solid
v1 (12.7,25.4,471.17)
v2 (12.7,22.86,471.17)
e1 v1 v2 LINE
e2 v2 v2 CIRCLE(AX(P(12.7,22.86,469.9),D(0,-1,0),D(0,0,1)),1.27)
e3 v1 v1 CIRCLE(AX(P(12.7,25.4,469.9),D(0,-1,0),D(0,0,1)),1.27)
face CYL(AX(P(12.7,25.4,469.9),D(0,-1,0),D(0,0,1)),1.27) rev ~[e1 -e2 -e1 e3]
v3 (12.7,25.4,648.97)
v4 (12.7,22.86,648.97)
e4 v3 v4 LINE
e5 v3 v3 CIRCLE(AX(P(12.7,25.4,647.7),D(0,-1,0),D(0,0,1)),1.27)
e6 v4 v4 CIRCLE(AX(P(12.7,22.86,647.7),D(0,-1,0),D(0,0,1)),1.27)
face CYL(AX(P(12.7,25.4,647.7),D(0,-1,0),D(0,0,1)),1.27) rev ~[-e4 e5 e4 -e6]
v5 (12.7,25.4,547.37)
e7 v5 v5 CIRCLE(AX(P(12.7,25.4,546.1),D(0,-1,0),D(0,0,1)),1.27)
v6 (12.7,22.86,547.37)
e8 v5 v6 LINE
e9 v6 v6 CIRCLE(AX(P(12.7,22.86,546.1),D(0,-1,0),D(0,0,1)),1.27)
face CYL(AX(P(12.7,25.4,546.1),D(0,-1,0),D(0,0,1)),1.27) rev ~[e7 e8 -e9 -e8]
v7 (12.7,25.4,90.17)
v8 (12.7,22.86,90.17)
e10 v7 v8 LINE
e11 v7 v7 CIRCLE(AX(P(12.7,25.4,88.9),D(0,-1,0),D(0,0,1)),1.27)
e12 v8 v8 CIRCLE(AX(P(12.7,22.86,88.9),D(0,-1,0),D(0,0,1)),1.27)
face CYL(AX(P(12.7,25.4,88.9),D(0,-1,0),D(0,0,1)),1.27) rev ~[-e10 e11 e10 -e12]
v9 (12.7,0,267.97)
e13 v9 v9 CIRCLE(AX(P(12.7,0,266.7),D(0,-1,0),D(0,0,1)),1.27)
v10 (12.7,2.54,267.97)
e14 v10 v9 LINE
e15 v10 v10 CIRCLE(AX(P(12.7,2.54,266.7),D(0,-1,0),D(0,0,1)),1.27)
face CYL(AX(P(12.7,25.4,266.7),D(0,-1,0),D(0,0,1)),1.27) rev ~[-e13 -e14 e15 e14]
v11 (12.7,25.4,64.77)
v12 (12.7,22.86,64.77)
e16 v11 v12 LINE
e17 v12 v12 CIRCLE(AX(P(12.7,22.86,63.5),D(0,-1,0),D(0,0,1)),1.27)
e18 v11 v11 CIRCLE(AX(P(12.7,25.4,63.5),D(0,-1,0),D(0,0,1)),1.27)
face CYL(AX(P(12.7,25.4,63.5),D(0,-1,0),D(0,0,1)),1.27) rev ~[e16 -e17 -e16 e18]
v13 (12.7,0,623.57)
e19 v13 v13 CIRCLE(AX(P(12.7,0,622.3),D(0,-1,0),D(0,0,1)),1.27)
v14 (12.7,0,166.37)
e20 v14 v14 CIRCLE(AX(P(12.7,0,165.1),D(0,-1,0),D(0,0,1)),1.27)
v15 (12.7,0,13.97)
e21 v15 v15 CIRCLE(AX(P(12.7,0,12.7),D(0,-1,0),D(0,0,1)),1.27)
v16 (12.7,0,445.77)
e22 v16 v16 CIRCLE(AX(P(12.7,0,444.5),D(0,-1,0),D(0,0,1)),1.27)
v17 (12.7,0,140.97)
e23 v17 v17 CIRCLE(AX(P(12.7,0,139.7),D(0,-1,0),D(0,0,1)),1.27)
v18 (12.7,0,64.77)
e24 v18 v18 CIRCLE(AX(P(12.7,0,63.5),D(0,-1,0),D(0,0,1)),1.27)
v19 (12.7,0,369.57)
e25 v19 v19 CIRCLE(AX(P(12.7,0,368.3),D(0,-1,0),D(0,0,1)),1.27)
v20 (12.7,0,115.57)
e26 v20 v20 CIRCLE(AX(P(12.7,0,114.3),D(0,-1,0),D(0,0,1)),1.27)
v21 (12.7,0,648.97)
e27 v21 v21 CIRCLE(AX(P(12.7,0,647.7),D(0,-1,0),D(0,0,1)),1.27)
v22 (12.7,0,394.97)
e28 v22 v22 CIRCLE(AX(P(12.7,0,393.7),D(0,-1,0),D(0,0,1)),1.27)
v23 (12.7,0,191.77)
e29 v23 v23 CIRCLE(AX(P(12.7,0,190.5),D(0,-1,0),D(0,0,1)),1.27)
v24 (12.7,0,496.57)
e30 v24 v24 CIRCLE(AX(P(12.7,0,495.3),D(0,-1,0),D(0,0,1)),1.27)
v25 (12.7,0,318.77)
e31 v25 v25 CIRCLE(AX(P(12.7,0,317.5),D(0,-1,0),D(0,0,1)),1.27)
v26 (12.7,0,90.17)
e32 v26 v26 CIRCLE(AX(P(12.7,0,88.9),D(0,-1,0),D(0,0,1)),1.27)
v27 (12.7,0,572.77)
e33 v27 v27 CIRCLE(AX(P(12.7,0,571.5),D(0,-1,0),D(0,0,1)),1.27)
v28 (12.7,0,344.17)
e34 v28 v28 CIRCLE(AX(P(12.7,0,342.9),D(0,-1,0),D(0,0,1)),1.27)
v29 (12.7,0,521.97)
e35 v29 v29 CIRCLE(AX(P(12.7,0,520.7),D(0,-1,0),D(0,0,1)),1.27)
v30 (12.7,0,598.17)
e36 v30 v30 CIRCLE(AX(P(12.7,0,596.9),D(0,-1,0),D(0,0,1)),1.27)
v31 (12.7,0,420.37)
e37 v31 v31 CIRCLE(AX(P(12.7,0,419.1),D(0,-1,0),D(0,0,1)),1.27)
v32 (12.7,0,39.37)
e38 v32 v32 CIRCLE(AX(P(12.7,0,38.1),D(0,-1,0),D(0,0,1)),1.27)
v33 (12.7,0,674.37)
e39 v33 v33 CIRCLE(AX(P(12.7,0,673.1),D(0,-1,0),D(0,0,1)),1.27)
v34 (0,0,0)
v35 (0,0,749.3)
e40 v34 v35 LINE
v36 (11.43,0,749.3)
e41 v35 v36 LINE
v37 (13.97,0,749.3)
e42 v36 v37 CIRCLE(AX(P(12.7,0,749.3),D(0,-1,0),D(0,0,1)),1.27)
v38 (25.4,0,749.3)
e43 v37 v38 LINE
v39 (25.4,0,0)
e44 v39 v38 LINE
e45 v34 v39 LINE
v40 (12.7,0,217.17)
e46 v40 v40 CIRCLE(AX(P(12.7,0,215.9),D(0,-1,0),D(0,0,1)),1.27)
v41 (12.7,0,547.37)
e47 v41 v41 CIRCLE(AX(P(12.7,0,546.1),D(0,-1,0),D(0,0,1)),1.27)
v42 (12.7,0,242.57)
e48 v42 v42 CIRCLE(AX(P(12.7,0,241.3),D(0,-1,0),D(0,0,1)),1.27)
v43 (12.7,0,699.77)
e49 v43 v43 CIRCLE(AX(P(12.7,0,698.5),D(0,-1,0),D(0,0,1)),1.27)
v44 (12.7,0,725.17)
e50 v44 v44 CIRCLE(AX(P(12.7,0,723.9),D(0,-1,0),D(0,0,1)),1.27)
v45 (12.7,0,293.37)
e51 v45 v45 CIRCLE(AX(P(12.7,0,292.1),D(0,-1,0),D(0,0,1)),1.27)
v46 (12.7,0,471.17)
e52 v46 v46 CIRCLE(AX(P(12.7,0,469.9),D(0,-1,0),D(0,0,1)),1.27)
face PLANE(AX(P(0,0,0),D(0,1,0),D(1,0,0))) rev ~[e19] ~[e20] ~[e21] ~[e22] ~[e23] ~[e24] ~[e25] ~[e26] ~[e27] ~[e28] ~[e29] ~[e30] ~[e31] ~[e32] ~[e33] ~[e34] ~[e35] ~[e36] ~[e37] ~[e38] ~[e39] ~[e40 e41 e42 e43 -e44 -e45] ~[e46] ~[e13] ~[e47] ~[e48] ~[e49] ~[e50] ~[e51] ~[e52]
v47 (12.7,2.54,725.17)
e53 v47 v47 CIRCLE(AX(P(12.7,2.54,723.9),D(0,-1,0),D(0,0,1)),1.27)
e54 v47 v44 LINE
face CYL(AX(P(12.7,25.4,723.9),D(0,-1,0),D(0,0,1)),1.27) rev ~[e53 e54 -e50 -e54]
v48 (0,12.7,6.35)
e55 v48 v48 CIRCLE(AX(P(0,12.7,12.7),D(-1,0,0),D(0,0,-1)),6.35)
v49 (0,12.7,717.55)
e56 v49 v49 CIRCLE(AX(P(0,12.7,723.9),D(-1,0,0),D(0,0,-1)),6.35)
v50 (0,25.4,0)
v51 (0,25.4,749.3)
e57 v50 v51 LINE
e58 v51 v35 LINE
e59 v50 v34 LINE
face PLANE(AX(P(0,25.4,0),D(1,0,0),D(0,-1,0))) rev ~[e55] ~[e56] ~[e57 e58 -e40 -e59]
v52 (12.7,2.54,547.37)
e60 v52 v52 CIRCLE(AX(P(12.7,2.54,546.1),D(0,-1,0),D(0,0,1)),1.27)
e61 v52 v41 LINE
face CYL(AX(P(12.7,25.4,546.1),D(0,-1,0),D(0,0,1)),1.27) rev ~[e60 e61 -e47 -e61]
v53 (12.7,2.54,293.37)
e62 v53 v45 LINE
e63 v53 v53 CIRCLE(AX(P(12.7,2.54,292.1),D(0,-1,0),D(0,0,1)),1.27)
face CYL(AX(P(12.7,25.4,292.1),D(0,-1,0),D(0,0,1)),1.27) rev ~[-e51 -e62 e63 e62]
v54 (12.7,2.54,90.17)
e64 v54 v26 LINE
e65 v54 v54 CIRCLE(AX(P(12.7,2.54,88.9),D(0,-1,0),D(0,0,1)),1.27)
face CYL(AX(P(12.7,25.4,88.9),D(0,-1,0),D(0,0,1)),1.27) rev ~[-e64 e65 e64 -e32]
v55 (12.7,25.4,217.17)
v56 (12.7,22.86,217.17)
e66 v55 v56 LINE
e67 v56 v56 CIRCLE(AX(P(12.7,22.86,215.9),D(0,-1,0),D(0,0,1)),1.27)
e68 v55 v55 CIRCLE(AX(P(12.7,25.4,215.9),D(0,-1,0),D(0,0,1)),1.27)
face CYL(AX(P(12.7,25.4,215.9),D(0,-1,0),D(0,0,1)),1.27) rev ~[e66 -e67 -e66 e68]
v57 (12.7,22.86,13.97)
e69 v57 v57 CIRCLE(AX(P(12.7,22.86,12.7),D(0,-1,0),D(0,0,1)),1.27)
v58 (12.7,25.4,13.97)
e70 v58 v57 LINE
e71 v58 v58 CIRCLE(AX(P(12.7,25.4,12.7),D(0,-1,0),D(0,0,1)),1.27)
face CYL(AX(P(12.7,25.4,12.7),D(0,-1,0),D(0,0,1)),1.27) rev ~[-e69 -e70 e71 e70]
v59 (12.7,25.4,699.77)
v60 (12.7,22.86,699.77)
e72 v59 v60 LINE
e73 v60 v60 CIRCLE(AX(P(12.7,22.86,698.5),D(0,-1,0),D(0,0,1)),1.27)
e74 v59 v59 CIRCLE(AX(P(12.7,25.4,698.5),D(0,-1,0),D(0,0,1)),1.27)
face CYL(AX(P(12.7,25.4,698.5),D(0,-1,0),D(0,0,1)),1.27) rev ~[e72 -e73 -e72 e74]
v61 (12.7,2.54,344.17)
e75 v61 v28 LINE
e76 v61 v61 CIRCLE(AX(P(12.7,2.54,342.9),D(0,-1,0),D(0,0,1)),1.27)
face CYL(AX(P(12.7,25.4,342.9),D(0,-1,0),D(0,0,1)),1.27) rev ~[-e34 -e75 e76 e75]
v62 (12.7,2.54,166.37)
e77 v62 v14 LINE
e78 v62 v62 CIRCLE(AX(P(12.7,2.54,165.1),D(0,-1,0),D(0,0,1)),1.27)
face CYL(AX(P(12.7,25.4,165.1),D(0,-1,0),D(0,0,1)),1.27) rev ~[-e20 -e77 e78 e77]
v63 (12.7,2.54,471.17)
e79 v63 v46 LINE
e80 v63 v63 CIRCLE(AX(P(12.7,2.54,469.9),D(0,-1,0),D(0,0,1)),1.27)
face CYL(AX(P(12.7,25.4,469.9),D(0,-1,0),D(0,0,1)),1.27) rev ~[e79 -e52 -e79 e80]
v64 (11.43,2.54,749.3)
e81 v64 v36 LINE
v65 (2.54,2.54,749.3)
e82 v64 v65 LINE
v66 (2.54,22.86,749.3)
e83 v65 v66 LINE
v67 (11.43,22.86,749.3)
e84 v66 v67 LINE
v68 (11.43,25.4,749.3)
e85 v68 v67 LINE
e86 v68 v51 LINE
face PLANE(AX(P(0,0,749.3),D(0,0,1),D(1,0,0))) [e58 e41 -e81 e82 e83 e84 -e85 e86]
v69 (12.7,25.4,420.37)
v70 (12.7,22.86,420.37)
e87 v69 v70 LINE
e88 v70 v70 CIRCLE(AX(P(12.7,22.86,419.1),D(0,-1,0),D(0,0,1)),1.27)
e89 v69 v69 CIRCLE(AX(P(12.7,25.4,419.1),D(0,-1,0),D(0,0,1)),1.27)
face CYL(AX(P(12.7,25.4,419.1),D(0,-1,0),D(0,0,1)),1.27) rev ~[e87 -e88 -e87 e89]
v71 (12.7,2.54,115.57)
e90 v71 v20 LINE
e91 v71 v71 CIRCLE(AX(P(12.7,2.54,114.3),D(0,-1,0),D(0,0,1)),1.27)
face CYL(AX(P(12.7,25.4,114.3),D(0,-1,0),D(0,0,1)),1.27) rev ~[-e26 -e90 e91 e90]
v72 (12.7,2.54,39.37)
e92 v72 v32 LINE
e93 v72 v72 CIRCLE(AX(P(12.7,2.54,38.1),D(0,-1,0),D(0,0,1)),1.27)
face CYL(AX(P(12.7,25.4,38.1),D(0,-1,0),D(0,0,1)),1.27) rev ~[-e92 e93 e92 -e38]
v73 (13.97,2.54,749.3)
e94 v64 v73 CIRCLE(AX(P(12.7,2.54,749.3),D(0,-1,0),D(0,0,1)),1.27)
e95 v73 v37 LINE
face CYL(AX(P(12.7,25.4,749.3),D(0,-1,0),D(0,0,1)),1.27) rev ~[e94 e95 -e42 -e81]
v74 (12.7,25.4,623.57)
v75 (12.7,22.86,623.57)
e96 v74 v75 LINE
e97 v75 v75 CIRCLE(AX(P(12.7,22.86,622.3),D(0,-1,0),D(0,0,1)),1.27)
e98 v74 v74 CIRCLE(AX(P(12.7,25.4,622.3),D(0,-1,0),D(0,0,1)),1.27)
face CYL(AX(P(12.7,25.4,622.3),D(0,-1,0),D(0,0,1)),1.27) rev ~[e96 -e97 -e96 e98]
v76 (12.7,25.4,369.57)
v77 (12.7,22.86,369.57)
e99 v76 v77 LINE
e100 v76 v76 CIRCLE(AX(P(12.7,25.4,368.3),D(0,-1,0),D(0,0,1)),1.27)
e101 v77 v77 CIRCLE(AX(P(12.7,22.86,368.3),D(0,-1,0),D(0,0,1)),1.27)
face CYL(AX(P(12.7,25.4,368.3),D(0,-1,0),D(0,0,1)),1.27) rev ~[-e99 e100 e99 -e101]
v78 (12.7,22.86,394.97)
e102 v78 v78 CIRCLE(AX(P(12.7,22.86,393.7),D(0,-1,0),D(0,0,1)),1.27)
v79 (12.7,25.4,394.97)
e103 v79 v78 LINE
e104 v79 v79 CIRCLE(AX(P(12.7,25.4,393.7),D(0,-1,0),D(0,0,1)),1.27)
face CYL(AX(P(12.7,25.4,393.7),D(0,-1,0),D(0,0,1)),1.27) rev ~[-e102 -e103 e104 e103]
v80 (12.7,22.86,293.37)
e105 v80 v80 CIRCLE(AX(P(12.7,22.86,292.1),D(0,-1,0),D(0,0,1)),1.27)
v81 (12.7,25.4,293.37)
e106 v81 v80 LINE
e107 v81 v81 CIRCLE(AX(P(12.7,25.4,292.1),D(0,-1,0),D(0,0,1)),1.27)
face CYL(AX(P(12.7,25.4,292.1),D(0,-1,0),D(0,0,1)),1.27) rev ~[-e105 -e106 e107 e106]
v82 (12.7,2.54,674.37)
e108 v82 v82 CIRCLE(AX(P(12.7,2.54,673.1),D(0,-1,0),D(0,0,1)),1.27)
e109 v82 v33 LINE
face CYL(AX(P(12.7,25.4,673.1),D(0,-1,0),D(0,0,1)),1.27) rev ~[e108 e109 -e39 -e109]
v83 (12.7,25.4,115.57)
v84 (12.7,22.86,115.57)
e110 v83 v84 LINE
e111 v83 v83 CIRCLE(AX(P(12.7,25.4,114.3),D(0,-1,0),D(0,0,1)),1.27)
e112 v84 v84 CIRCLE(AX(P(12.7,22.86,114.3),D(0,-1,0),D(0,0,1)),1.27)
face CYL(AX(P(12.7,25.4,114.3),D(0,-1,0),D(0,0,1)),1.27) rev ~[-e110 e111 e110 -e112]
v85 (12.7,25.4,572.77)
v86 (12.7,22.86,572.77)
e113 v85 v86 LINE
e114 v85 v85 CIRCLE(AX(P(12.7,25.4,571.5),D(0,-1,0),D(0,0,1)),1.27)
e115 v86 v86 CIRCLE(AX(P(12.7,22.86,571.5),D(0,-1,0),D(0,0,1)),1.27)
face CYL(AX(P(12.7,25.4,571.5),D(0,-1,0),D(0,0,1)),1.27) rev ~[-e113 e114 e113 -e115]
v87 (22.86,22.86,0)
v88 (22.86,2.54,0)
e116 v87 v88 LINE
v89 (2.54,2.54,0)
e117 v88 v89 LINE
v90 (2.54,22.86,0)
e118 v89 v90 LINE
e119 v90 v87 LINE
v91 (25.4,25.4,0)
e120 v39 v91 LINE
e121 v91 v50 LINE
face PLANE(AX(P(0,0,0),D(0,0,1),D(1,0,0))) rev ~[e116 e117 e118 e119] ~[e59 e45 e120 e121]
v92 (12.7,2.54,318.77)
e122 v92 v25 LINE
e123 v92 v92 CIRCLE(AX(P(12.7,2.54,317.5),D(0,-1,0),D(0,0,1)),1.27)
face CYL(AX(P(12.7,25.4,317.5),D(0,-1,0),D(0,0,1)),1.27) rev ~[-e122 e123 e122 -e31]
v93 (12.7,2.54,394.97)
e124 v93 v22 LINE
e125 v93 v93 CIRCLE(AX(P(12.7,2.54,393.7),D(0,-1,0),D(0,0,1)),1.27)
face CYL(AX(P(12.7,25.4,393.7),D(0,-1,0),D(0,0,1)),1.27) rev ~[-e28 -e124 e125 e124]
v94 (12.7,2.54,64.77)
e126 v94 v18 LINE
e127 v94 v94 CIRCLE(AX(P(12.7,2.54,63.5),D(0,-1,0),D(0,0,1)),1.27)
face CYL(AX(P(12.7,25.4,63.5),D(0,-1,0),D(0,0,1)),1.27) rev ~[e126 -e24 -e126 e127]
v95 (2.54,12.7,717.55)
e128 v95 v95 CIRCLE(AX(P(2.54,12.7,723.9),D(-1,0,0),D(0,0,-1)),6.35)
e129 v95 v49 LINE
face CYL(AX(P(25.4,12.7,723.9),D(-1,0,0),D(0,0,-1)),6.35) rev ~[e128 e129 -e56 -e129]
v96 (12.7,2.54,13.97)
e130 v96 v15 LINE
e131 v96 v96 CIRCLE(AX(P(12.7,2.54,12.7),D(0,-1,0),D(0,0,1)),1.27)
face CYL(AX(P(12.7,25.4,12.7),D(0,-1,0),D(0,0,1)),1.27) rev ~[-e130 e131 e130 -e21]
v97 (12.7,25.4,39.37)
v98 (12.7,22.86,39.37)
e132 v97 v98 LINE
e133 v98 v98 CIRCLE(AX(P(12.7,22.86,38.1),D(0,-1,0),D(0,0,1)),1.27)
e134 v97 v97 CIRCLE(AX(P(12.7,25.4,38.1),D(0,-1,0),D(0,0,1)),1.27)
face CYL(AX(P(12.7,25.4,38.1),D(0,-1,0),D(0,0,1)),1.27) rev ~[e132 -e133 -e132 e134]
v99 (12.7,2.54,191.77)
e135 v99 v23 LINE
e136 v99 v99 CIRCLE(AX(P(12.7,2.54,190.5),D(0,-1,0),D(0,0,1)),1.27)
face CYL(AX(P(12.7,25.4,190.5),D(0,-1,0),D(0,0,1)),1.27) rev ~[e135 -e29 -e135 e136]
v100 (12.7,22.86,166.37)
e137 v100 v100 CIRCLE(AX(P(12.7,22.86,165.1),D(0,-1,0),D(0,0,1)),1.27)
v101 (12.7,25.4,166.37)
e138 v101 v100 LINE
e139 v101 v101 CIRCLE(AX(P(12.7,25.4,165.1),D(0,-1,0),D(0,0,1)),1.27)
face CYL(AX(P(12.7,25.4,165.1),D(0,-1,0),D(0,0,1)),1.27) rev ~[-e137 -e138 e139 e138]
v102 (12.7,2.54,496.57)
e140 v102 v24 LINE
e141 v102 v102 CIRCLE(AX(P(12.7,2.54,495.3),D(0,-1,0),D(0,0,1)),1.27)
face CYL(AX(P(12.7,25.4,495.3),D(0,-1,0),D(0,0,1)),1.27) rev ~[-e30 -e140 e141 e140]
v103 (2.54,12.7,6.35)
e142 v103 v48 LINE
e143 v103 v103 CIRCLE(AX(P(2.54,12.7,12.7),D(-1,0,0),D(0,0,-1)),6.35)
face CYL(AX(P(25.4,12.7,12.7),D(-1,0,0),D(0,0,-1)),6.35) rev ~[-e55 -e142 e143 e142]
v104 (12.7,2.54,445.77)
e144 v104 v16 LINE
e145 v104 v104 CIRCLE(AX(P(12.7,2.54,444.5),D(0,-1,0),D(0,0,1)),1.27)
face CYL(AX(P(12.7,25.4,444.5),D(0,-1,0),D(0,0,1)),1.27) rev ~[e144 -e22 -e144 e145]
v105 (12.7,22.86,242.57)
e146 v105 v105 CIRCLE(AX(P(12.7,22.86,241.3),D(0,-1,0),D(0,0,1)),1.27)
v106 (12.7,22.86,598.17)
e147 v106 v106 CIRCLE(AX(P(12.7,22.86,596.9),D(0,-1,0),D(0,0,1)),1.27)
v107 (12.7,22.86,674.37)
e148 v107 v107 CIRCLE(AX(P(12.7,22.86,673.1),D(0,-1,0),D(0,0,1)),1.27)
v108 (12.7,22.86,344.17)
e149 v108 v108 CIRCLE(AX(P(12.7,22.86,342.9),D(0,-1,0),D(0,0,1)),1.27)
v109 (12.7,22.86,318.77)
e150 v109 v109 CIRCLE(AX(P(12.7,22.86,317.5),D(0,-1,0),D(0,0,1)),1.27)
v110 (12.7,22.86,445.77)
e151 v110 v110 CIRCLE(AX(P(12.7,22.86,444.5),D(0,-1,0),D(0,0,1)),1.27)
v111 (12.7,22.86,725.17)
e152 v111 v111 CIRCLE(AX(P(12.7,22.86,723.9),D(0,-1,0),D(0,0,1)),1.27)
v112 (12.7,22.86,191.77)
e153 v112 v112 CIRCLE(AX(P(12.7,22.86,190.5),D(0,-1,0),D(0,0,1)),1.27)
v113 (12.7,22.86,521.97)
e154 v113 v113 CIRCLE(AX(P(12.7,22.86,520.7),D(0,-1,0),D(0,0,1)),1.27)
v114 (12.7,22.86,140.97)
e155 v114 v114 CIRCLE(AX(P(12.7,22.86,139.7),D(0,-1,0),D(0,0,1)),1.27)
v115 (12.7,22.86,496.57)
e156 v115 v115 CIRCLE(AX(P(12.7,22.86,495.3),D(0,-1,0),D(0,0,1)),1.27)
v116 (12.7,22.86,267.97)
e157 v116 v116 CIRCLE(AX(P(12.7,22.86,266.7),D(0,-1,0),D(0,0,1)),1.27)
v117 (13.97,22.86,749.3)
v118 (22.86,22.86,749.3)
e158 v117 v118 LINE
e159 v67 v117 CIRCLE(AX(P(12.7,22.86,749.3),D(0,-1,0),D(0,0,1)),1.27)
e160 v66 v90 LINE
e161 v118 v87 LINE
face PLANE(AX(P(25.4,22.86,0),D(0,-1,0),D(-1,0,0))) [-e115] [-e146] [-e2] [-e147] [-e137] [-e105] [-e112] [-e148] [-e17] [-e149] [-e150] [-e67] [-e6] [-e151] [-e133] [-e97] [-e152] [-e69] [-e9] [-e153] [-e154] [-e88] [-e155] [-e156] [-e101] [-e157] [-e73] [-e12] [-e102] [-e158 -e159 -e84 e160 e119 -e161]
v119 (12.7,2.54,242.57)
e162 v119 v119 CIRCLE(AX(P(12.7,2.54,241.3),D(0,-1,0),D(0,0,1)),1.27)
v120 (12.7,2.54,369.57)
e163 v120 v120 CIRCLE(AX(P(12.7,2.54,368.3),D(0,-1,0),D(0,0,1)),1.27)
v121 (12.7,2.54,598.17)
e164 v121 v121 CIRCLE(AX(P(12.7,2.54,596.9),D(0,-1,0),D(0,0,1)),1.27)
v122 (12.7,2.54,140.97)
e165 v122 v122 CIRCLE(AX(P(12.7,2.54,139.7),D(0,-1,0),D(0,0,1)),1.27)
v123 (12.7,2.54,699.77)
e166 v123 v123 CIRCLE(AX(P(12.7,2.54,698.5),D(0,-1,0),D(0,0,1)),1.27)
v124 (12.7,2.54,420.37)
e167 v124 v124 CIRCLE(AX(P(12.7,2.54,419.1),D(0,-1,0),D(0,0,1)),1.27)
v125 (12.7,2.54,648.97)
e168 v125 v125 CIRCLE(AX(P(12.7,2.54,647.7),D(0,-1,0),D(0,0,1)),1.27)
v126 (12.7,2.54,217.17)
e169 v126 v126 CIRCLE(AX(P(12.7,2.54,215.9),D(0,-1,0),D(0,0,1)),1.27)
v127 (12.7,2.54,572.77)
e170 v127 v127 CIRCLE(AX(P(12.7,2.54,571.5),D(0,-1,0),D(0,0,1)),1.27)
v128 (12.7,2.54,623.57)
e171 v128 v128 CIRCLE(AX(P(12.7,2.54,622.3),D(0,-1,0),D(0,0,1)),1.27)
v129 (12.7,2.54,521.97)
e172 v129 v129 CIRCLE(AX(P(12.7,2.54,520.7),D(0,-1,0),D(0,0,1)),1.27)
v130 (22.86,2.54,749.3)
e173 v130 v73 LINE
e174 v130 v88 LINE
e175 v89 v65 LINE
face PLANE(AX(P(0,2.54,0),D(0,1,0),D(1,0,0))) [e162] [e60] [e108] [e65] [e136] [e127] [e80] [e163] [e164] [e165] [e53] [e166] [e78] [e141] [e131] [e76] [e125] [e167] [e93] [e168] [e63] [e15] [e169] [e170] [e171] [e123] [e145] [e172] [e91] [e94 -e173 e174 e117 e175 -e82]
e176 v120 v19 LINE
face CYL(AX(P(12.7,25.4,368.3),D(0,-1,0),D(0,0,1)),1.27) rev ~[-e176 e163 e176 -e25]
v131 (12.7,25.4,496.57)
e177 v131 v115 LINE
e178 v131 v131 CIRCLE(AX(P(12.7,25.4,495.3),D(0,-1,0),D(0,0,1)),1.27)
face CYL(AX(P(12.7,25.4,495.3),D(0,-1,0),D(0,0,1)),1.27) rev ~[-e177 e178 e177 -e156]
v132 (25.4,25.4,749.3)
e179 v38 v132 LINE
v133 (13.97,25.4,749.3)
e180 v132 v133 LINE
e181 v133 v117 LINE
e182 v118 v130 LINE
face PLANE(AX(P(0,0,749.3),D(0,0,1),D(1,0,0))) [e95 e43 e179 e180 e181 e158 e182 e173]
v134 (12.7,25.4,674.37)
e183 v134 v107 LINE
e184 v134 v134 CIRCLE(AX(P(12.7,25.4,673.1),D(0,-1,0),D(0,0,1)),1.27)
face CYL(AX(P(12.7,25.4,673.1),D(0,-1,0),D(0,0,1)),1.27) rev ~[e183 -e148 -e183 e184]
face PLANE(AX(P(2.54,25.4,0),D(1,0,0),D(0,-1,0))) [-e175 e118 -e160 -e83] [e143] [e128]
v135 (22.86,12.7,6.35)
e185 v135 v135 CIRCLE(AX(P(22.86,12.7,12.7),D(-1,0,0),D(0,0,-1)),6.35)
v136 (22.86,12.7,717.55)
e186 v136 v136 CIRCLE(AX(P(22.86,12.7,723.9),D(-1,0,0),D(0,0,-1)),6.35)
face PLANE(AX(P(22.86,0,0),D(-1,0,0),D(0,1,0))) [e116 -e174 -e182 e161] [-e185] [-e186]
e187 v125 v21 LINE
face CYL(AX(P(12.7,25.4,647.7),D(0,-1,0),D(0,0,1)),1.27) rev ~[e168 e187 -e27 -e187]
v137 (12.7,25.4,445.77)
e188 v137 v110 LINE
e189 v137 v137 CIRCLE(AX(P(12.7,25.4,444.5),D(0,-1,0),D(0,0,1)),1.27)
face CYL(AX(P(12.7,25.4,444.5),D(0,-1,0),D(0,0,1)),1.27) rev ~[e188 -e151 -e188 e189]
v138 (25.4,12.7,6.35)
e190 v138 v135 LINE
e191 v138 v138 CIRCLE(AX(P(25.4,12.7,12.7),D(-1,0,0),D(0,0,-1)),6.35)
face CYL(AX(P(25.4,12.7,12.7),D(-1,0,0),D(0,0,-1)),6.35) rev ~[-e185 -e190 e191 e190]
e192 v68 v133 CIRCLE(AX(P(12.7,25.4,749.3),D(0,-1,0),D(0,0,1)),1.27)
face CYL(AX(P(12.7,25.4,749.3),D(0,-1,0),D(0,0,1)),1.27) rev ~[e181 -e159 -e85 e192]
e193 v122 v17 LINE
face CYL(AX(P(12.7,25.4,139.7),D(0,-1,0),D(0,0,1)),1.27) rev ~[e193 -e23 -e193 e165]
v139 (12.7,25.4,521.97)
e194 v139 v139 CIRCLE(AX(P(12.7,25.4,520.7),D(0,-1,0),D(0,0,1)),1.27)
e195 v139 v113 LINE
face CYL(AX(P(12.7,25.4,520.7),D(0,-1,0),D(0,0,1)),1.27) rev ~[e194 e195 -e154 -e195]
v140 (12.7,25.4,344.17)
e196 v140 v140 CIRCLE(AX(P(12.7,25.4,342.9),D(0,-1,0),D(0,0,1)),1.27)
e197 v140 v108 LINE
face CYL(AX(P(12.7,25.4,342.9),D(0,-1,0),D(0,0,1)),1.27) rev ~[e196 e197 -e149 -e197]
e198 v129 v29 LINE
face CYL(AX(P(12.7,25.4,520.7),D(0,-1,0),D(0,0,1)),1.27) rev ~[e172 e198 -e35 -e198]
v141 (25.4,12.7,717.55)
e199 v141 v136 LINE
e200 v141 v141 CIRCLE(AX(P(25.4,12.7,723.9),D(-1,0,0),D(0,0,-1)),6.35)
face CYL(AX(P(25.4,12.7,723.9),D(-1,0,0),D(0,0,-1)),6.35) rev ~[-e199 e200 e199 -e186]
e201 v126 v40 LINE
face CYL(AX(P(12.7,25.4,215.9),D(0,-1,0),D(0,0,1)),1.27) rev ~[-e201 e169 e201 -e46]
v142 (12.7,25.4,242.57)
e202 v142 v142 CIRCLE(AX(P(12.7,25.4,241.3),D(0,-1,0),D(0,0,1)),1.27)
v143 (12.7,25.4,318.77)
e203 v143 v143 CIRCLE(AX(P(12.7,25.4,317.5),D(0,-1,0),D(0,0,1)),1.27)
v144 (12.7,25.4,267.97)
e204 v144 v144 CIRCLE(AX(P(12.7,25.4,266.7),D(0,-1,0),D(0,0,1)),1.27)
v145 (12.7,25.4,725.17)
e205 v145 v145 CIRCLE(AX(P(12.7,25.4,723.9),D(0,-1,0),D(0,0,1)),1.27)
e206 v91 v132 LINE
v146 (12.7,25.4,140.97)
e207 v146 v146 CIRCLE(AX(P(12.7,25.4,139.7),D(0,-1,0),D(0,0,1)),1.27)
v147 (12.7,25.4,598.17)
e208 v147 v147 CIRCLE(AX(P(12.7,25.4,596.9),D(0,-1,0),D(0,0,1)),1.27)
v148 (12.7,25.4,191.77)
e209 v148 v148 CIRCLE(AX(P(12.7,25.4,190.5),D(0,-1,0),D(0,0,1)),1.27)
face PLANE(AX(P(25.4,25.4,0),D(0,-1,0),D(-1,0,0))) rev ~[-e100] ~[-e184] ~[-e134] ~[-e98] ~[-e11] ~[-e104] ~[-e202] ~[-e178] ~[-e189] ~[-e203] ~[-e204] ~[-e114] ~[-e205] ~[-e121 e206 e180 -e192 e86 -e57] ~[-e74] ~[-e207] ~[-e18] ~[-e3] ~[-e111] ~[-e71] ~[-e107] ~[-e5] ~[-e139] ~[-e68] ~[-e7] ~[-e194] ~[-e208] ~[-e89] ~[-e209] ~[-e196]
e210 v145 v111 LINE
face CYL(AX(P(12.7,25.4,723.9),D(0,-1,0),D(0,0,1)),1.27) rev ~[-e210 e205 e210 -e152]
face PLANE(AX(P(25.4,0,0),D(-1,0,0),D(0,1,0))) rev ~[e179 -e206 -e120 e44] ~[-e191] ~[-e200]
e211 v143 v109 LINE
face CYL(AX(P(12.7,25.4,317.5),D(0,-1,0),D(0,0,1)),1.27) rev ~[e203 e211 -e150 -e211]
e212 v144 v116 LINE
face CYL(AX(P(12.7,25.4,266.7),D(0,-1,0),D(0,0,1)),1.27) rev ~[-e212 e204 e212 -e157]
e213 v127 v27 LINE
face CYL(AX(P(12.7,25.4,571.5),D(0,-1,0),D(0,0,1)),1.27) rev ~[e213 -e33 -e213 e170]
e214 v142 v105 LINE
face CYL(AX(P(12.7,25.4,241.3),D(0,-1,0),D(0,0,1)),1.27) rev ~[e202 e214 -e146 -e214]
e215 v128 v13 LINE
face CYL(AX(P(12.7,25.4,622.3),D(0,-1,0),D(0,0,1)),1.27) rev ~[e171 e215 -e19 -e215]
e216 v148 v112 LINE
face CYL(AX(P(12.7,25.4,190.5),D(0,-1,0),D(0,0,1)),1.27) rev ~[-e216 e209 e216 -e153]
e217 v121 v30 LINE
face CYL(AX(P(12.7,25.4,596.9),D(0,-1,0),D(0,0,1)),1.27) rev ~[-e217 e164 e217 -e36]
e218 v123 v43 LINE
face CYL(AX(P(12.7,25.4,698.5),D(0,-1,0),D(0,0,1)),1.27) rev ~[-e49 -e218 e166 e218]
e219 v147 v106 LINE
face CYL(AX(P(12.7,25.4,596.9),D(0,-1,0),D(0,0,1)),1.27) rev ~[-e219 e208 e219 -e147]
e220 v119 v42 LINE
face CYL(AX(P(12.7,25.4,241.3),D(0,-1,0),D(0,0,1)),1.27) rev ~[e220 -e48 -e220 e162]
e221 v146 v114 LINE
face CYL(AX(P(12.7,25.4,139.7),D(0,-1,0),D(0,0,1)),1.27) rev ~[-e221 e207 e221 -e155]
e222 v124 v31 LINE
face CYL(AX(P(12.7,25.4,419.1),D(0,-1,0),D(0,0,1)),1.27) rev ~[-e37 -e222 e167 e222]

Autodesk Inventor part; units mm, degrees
ref_plane "YZ Plane" through (0, 0, 0) normal (1, 0, 0) x (0, 1, 0)
ref_plane "XZ Plane" through (0, 0, 0) normal (0, 1, 0) x (-1, 0, 0)
ref_plane "XY Plane" through (0, 0, 0) normal (0, 0, 1) x (1, 0, 0)
sketch "Sketch1" plane through (0, 0, 0) normal (0, 0, 1) x (1, 0, 0)
  line L0 (0, 0) -> (25.4, 0)
  line L1 (25.4, 0) -> (25.4, 25.4)
  line L2 (25.4, 25.4) -> (0, 25.4)
  line L3 (0, 25.4) -> (0, 0)
  dimension "d0" = 25.4
  dimension "d1" = 25.4
extrude "Extrusion1" add sketch "Sketch1" along normal blind 749.3
shell "Shell1" thickness 2.54 removed faces 2 at (8.4667, 16.9333, 0) at (8.4667, 16.9333, 749.3)
sketch "Sketch2" plane through (0, 25.4, 0) normal (0, 1, 0) x (1, 0, 0)
  line L0 (25.4, 0) -> (0, 0) projected
  line L1 (0, 0) -> (0, -749.3) projected
  point P0 (12.7, -12.7)
  point P1 (12.7, -38.1)
  point P2 (12.7, -63.5)
  point P3 (12.7, -88.9)
  point P4 (12.7, -114.3)
  point P5 (12.7, -139.7)
  point P6 (12.7, -165.1)
  point P7 (12.7, -190.5)
  point P8 (12.7, -215.9)
  point P9 (12.7, -241.3)
  point P10 (12.7, -266.7)
  point P11 (12.7, -292.1)
  point P12 (12.7, -317.5)
  point P13 (12.7, -342.9)
  point P14 (12.7, -368.3)
  point P15 (12.7, -393.7)
  point P16 (12.7, -419.1)
  point P17 (12.7, -444.5)
  point P18 (12.7, -469.9)
  point P19 (12.7, -495.3)
  point P20 (12.7, -520.7)
  point P21 (12.7, -546.1)
  point P22 (12.7, -571.5)
  point P23 (12.7, -596.9)
  point P24 (12.7, -622.3)
  point P25 (12.7, -647.7)
  point P26 (12.7, -673.1)
  point P27 (12.7, -698.5)
  point P28 (12.7, -723.9)
  point P29 (12.7, -749.3)
  point P30 (12.7, -774.7)
  point P31 (12.7, -800.1)
  point P32 (12.7, -825.5)
  point P33 (12.7, -850.9)
  point P34 (12.7, -876.3)
  point P35 (12.7, -901.7)
  point P36 (12.7, -927.1)
  dimension "d5" = 12.7
  dimension "d6" = 12.7
  dimension "d9" = 25.4
hole "Hole1" at (12.7, 25.4, 12.7) at (12.7, 25.4, 38.1) at (12.7, 25.4, 63.5) at (12.7, 25.4, 88.9) at (12.7, 25.4, 114.3) at (12.7, 25.4, 139.7) at (12.7, 25.4, 165.1) at (12.7, 25.4, 190.5) at (12.7, 25.4, 215.9) at (12.7, 25.4, 241.3) at (12.7, 25.4, 266.7) at (12.7, 25.4, 292.1) at (12.7, 25.4, 317.5) at (12.7, 25.4, 342.9) at (12.7, 25.4, 368.3) at (12.7, 25.4, 393.7) at (12.7, 25.4, 419.1) at (12.7, 25.4, 444.5) at (12.7, 25.4, 469.9) at (12.7, 25.4, 495.3) at (12.7, 25.4, 520.7) at (12.7, 25.4, 546.1) at (12.7, 25.4, 571.5) at (12.7, 25.4, 596.9) at (12.7, 25.4, 622.3) at (12.7, 25.4, 647.7) at (12.7, 25.4, 673.1) at (12.7, 25.4, 698.5) at (12.7, 25.4, 723.9) at (12.7, 25.4, 749.3) at (12.7, 25.4, 774.7) at (12.7, 25.4, 800.1) at (12.7, 25.4, 825.5) at (12.7, 25.4, 850.9) at (12.7, 25.4, 876.3) at (12.7, 25.4, 901.7) direction (0, -1, 0) diameter 2.54 depth 50.8 tip angle 118
sketch "Sketch8" plane through (25.4, 0, 0) normal (1, 0, 0) x (0, 0, -1)
  line L0 (-749.3, 0) -> (-749.3, 25.4) projected
  line L1 (0, 25.4) -> (-749.3, 25.4) projected
  line L2 (0, 0) -> (0, 25.4) projected
  point P0 (-12.7, 12.7)
  point P1 (-723.9, 12.7)
  dimension "d57" = 25.4
  dimension "d58" = 12.7
  dimension "d59" = 12.7
  dimension "d60" = 12.7
hole "Hole5" at (25.4, 12.7, 12.7) at (25.4, 12.7, 723.9) direction (-1, 0, 0) diameter 12.7 depth 25.4 tip angle 118
properties part number "Support Pivs 25 upper" material "Aluminum 6061"
